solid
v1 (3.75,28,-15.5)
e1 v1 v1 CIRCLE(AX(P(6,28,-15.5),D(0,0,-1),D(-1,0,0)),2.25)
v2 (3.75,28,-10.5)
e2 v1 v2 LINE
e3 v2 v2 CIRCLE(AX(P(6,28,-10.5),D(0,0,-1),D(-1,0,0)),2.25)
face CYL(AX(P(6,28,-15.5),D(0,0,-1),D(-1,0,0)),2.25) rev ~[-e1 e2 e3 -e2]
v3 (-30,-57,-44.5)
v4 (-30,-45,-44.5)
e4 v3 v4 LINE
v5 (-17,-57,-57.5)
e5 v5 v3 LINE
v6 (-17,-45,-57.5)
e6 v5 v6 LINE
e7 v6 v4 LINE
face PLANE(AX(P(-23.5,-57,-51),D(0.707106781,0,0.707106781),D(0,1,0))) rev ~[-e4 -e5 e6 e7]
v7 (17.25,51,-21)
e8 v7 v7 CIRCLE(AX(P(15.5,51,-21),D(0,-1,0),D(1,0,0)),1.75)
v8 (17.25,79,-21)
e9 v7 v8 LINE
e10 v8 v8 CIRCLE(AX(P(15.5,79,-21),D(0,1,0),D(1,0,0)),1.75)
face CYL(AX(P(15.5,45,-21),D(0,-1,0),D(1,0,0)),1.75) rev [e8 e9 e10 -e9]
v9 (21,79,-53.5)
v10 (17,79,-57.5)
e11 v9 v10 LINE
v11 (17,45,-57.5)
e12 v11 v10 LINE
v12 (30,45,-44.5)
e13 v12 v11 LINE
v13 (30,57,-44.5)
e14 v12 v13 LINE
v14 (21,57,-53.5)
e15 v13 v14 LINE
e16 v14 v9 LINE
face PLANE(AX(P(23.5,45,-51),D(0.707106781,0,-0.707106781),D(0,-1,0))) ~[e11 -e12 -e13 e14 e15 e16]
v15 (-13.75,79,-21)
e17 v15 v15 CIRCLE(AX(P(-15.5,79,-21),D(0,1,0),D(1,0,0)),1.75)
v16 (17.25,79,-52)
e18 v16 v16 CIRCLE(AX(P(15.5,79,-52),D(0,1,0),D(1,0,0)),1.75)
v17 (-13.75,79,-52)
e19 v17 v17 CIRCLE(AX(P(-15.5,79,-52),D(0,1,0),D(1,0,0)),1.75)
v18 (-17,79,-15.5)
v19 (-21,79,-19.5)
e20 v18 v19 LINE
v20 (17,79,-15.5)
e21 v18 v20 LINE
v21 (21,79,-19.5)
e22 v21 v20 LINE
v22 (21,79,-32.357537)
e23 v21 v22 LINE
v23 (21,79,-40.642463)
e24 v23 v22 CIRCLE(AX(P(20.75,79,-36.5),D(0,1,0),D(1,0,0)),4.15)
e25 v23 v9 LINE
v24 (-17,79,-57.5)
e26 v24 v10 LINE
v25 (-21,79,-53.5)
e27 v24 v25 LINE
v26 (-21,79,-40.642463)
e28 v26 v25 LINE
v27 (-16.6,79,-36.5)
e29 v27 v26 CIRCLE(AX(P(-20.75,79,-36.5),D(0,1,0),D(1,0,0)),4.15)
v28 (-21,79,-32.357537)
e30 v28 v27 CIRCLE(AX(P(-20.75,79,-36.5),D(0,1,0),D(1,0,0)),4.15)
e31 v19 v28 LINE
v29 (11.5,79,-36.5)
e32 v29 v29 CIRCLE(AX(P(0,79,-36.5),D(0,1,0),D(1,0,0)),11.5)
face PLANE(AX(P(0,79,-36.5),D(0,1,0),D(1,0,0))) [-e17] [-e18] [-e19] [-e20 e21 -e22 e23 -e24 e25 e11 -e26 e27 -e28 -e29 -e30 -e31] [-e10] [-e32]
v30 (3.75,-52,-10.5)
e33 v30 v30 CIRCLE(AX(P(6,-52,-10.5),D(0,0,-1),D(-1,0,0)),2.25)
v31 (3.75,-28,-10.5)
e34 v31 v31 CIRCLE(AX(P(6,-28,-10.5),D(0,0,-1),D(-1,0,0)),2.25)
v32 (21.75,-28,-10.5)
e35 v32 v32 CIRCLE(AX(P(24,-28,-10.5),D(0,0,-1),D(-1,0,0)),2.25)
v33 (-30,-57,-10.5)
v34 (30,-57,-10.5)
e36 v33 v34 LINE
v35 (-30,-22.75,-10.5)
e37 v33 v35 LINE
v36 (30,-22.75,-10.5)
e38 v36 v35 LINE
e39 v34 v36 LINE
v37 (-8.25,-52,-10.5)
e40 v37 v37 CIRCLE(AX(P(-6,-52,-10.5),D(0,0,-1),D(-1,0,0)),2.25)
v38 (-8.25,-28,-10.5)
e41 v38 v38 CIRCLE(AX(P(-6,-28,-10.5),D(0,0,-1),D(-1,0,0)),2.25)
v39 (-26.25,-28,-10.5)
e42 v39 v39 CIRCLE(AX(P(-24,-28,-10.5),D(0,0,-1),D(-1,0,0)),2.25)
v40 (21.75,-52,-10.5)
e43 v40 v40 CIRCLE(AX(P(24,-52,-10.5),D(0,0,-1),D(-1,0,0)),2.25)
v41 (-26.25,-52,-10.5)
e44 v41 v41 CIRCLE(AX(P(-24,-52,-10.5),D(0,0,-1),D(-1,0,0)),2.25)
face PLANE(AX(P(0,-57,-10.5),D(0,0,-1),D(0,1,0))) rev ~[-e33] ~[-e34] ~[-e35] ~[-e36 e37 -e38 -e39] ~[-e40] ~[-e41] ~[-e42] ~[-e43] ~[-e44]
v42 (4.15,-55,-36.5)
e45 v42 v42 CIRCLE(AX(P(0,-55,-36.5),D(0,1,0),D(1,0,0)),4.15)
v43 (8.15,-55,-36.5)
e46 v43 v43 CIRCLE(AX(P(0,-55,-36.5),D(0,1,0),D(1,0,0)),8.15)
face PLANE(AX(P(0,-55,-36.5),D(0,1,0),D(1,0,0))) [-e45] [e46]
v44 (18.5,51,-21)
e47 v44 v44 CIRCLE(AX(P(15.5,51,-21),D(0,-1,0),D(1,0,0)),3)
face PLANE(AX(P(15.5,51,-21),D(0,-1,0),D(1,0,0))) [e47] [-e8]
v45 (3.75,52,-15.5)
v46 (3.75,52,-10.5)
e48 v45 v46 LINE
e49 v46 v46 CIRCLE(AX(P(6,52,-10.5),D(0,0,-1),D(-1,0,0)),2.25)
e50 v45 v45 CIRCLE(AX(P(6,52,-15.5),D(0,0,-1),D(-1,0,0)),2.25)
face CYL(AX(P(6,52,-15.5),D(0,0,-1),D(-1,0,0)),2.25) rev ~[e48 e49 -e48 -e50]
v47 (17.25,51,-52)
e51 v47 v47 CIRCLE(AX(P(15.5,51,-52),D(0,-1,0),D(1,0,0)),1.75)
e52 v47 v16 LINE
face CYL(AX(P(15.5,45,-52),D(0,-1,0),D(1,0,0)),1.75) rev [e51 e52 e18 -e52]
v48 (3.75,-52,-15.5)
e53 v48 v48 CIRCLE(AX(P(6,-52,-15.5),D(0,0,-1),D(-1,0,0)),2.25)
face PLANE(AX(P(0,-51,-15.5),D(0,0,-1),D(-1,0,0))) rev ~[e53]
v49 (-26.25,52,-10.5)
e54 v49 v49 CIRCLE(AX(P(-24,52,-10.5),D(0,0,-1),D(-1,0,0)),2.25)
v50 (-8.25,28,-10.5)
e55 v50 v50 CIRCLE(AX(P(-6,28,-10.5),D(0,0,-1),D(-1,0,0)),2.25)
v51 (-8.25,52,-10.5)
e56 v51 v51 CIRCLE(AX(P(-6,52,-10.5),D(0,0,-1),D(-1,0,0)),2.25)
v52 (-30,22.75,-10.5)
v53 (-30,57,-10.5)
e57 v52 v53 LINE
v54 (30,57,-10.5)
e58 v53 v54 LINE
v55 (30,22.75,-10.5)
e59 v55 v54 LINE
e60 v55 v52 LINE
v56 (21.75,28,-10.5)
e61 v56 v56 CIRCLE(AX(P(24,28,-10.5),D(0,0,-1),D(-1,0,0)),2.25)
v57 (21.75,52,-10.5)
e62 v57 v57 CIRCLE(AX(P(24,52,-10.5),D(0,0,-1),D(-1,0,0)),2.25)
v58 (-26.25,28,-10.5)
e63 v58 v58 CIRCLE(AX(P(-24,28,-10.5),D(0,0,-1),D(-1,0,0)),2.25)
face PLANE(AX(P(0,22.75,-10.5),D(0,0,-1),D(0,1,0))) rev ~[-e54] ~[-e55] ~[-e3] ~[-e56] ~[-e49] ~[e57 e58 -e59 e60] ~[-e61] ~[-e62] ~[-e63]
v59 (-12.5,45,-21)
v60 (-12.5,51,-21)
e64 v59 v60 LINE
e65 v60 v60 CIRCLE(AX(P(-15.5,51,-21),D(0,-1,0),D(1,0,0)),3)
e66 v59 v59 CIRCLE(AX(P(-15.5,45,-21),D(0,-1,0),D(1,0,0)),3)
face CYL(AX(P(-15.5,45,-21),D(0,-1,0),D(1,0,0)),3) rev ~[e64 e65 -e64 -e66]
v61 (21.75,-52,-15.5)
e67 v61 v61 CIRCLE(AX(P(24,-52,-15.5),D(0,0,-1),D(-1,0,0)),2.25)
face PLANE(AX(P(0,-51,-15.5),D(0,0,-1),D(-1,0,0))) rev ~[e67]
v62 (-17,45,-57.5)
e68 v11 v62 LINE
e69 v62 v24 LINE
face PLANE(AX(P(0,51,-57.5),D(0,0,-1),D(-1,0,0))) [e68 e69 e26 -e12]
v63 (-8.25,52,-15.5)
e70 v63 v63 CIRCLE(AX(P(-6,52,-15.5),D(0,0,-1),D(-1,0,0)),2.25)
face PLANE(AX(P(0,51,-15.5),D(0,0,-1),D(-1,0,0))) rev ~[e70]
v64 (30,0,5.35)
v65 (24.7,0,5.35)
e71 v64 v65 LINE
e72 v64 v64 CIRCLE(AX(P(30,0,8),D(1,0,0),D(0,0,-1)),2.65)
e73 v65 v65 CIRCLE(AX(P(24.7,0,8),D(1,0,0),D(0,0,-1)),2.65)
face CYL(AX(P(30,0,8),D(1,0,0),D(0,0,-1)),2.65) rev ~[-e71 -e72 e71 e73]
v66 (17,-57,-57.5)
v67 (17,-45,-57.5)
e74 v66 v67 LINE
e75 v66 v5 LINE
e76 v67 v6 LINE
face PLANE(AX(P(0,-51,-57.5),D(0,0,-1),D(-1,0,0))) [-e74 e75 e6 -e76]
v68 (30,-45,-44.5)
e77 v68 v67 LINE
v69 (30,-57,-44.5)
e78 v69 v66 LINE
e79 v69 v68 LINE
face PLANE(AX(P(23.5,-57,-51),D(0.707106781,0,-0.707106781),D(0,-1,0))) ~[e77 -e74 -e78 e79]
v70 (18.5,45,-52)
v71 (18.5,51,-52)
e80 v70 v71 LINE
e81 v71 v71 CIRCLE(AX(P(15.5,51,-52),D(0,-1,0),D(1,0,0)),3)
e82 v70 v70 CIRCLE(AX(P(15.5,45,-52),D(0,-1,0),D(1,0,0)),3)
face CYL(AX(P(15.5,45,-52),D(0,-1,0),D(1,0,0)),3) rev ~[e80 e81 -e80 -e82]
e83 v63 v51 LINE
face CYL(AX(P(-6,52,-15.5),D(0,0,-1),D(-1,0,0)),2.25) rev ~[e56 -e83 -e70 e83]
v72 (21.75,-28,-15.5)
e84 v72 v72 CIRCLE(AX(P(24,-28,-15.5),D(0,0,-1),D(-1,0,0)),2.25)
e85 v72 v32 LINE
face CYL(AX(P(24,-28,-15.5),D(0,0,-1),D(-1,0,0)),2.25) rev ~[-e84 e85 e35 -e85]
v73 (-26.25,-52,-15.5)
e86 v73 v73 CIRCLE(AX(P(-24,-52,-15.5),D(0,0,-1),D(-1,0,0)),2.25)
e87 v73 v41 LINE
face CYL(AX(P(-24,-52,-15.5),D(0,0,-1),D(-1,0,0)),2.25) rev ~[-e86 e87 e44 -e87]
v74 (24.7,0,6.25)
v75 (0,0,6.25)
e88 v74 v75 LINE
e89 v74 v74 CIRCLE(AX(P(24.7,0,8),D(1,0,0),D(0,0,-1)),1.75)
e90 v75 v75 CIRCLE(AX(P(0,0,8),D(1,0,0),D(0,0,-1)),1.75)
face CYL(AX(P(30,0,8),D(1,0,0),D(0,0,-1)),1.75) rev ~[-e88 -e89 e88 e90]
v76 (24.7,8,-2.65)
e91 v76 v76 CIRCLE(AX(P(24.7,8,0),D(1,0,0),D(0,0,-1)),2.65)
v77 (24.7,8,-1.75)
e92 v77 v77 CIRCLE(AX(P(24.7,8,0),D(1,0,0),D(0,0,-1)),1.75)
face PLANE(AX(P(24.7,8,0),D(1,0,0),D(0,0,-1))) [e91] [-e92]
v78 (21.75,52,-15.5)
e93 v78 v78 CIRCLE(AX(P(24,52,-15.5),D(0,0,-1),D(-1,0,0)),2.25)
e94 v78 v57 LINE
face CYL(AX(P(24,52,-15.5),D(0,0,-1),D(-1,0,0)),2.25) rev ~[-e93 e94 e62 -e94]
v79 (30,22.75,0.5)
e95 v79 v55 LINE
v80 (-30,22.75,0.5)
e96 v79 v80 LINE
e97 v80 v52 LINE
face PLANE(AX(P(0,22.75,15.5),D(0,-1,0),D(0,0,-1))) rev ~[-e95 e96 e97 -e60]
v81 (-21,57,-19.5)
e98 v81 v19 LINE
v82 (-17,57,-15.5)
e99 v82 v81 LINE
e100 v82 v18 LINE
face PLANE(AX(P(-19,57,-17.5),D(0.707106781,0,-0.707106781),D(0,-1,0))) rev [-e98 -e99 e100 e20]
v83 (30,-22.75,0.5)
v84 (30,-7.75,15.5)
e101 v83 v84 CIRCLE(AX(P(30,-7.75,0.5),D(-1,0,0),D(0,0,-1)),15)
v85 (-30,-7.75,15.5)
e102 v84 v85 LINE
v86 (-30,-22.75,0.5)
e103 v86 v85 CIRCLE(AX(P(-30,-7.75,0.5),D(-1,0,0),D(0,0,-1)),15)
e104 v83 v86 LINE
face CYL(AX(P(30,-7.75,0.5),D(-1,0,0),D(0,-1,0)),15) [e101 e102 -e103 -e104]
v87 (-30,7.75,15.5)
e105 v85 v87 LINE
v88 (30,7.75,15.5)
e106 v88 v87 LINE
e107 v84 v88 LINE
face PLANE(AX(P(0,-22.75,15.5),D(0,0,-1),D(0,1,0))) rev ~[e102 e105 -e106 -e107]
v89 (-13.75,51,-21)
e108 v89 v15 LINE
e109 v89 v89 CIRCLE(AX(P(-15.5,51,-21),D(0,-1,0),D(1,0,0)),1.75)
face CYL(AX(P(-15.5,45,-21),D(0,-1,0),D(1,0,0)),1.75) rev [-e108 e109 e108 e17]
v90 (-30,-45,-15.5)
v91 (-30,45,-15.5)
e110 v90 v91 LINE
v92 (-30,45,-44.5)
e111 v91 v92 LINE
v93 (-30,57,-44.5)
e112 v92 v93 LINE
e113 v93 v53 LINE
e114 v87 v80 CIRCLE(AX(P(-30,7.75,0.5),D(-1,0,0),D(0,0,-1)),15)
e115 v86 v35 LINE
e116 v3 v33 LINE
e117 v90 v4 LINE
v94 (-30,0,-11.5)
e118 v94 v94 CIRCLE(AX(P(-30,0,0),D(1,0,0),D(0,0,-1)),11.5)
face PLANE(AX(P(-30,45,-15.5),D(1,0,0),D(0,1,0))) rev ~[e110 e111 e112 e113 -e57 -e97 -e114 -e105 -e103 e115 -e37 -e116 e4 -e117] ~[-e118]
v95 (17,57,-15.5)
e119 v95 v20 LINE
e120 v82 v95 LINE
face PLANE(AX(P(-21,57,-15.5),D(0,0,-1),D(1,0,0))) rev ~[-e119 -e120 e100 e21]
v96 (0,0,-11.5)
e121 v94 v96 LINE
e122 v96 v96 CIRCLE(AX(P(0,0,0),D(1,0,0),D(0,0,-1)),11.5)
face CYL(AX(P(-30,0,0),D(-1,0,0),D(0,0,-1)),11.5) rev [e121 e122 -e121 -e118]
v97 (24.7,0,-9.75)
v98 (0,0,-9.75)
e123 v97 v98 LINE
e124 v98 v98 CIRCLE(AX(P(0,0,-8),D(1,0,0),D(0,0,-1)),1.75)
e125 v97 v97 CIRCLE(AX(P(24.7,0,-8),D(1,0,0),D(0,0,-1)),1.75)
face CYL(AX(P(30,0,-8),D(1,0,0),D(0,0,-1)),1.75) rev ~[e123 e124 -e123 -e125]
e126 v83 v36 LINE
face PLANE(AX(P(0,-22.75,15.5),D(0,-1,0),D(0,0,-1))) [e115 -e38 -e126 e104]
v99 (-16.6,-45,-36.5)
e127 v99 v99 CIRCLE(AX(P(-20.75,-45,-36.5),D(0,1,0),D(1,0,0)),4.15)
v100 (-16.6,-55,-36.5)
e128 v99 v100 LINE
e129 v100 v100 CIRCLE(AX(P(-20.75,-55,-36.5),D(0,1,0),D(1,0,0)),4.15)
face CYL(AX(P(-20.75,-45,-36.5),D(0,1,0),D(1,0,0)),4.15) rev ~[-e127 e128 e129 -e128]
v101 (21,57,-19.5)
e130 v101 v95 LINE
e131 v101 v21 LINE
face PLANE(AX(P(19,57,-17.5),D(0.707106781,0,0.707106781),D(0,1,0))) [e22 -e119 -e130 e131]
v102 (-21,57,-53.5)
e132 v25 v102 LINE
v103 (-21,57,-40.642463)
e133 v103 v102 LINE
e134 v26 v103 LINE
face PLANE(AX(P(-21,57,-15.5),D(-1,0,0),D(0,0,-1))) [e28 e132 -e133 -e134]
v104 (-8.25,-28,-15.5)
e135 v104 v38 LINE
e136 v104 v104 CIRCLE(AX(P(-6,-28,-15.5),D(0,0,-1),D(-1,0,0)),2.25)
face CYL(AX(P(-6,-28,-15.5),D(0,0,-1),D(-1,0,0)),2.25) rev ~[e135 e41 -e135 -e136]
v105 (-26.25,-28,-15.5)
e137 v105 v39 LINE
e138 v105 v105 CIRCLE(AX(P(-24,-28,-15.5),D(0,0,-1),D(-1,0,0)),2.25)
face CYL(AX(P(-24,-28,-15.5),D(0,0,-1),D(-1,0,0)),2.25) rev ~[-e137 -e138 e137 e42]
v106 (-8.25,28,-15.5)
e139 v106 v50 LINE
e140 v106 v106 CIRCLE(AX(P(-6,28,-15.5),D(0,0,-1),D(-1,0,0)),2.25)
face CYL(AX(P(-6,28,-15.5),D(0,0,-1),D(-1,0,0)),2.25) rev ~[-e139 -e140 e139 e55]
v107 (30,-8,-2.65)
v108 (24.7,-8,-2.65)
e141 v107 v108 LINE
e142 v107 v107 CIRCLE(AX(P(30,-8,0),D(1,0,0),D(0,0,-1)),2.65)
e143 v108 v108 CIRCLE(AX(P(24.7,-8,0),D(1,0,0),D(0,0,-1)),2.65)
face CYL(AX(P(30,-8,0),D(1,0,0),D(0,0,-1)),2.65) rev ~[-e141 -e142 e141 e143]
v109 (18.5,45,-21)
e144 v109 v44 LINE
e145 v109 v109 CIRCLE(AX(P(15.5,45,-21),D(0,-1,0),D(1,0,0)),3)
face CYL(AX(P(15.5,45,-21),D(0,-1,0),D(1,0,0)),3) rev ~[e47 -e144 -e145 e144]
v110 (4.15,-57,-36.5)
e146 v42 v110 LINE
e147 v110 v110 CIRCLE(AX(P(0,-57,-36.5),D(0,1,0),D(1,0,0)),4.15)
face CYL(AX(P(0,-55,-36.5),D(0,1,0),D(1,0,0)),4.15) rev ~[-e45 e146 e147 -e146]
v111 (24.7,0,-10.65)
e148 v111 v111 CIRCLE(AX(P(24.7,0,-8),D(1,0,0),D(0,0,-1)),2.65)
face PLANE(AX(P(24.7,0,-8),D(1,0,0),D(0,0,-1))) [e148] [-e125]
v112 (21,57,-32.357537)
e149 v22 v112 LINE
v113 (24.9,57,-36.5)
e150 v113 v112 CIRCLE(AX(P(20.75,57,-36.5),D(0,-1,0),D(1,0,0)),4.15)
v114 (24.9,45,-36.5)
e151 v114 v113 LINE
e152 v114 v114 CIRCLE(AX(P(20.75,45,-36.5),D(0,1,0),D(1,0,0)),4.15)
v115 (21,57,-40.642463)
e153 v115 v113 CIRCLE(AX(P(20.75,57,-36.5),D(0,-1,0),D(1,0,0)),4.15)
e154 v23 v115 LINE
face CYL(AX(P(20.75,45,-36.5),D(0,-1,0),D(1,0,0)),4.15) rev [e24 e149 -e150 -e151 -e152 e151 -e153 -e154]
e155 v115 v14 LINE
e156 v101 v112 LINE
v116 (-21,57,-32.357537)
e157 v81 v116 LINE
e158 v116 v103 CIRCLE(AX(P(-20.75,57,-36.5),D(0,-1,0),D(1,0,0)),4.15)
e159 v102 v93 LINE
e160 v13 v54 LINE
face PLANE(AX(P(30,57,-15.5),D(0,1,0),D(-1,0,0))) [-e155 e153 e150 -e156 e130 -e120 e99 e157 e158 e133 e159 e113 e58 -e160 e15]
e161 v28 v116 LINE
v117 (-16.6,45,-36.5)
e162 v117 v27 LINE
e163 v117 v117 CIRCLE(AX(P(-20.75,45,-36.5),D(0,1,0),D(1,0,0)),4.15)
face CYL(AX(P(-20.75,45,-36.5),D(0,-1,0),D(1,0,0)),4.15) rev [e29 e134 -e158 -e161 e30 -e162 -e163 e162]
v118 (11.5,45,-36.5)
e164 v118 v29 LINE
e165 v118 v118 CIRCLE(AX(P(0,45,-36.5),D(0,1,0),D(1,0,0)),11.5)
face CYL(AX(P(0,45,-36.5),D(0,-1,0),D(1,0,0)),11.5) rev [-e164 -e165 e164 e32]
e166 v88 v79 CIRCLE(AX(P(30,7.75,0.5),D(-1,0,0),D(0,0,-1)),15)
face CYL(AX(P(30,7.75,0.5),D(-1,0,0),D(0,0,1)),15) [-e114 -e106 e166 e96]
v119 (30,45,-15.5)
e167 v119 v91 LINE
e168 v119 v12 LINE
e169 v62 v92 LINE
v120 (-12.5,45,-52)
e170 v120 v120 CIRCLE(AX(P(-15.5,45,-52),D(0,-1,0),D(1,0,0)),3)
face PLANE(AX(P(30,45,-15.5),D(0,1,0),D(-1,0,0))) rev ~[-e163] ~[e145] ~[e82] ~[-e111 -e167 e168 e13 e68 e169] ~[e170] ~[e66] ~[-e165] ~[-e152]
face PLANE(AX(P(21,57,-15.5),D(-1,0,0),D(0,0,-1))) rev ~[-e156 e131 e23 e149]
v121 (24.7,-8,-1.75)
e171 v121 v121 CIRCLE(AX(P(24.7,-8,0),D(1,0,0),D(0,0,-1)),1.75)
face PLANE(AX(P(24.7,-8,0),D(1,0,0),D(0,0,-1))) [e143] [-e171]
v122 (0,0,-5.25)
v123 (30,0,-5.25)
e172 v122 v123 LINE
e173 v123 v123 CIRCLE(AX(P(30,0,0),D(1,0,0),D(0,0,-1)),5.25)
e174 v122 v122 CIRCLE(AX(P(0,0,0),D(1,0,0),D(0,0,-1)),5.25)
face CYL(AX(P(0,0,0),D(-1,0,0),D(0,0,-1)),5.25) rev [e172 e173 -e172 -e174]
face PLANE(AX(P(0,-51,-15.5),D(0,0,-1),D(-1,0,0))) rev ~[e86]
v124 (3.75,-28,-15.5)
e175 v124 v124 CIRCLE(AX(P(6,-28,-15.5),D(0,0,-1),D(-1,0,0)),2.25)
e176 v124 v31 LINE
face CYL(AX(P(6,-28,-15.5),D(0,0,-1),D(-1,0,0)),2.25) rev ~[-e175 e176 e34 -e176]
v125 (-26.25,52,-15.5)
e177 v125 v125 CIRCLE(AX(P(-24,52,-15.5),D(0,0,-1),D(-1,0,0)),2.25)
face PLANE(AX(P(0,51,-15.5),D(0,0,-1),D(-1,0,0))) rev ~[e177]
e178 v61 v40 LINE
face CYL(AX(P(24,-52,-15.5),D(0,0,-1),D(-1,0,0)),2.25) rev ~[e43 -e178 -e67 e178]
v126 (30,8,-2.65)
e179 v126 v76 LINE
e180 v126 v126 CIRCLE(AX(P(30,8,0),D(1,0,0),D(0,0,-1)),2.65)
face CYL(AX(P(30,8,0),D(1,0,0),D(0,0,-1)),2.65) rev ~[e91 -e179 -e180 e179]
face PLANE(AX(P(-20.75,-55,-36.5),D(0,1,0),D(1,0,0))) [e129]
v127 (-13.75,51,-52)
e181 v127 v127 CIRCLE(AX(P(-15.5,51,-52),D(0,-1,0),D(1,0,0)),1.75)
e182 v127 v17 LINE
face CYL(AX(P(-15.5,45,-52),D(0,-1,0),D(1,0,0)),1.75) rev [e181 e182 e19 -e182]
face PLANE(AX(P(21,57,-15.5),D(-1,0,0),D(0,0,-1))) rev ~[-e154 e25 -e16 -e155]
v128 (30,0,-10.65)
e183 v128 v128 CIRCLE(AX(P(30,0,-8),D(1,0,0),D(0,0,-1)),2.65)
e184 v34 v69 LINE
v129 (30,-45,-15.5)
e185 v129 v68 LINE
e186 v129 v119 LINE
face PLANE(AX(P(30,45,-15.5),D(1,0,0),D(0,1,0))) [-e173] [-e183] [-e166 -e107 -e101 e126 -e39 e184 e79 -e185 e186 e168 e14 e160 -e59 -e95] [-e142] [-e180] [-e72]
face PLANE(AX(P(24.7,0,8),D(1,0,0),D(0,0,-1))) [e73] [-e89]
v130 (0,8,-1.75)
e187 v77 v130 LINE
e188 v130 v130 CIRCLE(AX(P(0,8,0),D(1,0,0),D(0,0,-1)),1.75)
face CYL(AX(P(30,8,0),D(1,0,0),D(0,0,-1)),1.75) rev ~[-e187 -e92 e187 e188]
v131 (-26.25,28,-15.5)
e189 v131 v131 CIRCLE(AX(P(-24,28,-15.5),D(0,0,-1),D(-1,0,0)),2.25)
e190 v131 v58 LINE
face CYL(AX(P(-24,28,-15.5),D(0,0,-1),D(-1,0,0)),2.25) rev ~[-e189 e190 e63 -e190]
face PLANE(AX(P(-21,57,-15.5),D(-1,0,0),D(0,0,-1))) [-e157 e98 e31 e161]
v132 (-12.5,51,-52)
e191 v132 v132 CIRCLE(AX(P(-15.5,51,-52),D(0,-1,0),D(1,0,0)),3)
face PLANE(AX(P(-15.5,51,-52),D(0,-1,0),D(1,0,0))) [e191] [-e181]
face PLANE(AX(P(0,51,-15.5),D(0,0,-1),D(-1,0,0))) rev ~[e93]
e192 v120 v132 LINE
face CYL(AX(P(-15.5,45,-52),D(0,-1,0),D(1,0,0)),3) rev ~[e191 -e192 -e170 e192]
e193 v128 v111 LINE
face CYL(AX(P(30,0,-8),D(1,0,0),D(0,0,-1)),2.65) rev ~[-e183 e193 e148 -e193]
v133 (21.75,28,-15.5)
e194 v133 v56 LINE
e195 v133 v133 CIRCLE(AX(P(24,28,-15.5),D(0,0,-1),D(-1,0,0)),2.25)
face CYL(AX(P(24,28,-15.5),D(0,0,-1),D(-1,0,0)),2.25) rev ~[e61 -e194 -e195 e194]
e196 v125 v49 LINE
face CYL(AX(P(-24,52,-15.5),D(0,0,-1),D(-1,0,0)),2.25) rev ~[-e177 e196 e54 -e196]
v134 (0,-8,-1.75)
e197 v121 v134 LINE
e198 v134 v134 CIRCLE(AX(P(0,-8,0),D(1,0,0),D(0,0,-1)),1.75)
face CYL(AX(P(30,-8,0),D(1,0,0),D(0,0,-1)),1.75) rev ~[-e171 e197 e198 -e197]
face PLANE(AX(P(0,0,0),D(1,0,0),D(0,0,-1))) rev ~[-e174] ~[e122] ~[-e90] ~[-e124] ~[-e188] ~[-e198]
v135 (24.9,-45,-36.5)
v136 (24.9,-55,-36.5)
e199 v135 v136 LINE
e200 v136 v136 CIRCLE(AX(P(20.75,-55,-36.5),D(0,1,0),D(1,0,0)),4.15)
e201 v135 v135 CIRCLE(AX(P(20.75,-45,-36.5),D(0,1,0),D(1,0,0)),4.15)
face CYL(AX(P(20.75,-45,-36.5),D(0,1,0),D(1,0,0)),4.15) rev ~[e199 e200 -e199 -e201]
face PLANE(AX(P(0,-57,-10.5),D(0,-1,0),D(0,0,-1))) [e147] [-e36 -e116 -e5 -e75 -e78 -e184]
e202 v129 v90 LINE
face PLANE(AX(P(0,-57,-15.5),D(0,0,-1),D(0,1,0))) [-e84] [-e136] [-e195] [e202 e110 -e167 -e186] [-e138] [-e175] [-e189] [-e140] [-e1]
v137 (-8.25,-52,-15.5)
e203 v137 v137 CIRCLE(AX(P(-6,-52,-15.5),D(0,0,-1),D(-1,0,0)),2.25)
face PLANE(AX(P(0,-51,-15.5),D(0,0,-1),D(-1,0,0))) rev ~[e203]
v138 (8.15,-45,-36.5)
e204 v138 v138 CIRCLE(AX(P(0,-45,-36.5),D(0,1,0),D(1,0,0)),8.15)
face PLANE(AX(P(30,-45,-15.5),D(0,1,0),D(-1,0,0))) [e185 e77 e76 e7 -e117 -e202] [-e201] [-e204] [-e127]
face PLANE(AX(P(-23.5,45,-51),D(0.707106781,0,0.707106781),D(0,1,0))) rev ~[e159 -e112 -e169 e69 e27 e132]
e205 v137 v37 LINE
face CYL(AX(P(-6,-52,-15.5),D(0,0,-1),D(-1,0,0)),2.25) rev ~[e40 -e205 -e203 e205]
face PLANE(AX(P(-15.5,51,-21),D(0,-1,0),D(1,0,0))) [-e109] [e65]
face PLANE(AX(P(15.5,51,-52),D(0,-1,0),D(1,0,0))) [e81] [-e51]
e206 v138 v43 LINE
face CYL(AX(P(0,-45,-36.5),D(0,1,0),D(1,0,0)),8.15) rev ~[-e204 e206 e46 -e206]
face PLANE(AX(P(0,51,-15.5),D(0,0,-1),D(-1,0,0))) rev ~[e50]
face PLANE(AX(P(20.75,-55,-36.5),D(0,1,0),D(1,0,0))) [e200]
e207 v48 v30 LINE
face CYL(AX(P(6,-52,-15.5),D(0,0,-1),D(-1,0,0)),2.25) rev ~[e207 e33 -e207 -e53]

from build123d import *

# Parameters (mm, degrees)
BOSS_EXTRUDE1_DEPTH      = 30
BOSS_EXTRUDE1_DEPTH_BACK = 30
SKETCH2_R                = 5.25
SKETCH3_R                = 11.5
CUT_EXTRUDE2_DEPTH       = 30
CUT_EXTRUDE3_REACH       = 86.198
SKETCH5_R                = 1.75
FILLET1_R                = 15
CUT_EXTRUDE4_REACH       = 73.484
SKETCH6_R                = 2.25
SKETCH7_W                = 60
SKETCH7_H                = 12
BOSS_EXTRUDE2_DEPTH      = 42
SKETCH18_W               = 42
SKETCH18_H               = 42
BOSS_EXTRUDE5_DEPTH      = 22
CUT_EXTRUDE5_REACH       = 155.157
CUT_EXTRUDE5_START       = 22
SKETCH8_R                = 11.5
SKETCH8_R_2              = 1.75
SKETCH8_R_3              = 4.15
SKETCH9_R                = 4.15
SKETCH9_R_2              = 8.15
CUT_EXTRUDE6_DEPTH       = 10
CUT_EXTRUDE7_REACH       = 150.87
SKETCH10_R               = 4.15
SKETCH11_R               = 3
CUT_EXTRUDE8_DEPTH       = 6
SKETCH14_R               = 2.65
CUT_EXTRUDE10_DEPTH      = 5.3
CHAMFER3_SIZE            = 13
CHAMFER4_SIZE            = 4


with BuildPart() as part:
    # Sketch2 → Boss-Extrude1 (new, two sides: drawn at the far end of the back side and taken through both)
    with BuildSketch(Plane(origin=(0, 0, 0), x_dir=(0, 0, -1), z_dir=(1, 0, 0)).offset(-BOSS_EXTRUDE1_DEPTH_BACK)):
        Polygon((15.5, 57), (10.5, 57), (10.5, 22.75), (-15.5, 22.75), (-15.5, -22.75), (10.5, -22.75), (10.5, -57), (15.5, -57), align=None)
        Circle(SKETCH2_R, mode=Mode.SUBTRACT)
    extrude(amount=BOSS_EXTRUDE1_DEPTH + BOSS_EXTRUDE1_DEPTH_BACK)

    # Sketch3 → Cut-Extrude2 (cut)
    with BuildSketch(Plane(origin=(-30, 0, 0), x_dir=(0, 0, -1), z_dir=(1, 0, 0))):
        Circle(SKETCH3_R)
    extrude(amount=CUT_EXTRUDE2_DEPTH, mode=Mode.SUBTRACT)

    # Sketch5 → Cut-Extrude3 (cut, up to next)
    with BuildSketch(Plane(origin=(30, 0, 0), x_dir=(0, 0, -1), z_dir=(1, 0, 0)), mode=Mode.PRIVATE) as cut_extrude3_sk1:
        with Locations((0, 8)):
            Circle(SKETCH5_R)
    cut_extrude3_tool1 = extrude(cut_extrude3_sk1.sketch, amount=-CUT_EXTRUDE3_REACH, mode=Mode.PRIVATE) & part.part
    # Sketch5 → Cut-Extrude3 (cut, up to next)
    with BuildSketch(Plane(origin=(30, 0, 0), x_dir=(0, 0, -1), z_dir=(1, 0, 0)), mode=Mode.PRIVATE) as cut_extrude3_sk2:
        with Locations((8, 0)):
            Circle(SKETCH5_R)
    cut_extrude3_tool2 = extrude(cut_extrude3_sk2.sketch, amount=-CUT_EXTRUDE3_REACH, mode=Mode.PRIVATE) & part.part
    # Sketch5 → Cut-Extrude3 (cut, up to next)
    with BuildSketch(Plane(origin=(30, 0, 0), x_dir=(0, 0, -1), z_dir=(1, 0, 0)), mode=Mode.PRIVATE) as cut_extrude3_sk3:
        with Locations((0, -8)):
            Circle(SKETCH5_R)
    cut_extrude3_tool3 = extrude(cut_extrude3_sk3.sketch, amount=-CUT_EXTRUDE3_REACH, mode=Mode.PRIVATE) & part.part
    # Sketch5 → Cut-Extrude3 (cut, up to next)
    with BuildSketch(Plane(origin=(30, 0, 0), x_dir=(0, 0, -1), z_dir=(1, 0, 0)), mode=Mode.PRIVATE) as cut_extrude3_sk4:
        with Locations((-8, 0)):
            Circle(SKETCH5_R)
    cut_extrude3_tool4 = extrude(cut_extrude3_sk4.sketch, amount=-CUT_EXTRUDE3_REACH, mode=Mode.PRIVATE) & part.part
    add(cut_extrude3_tool1.solids().sort_by_distance((30, 8, 0))[0], mode=Mode.SUBTRACT)
    add(cut_extrude3_tool2.solids().sort_by_distance((30, 0, -8))[0], mode=Mode.SUBTRACT)
    add(cut_extrude3_tool3.solids().sort_by_distance((30, -8, 0))[0], mode=Mode.SUBTRACT)
    add(cut_extrude3_tool4.solids().sort_by_distance((30, 0, 8))[0], mode=Mode.SUBTRACT)

    # Fillet1
    fillet1_edges = [part.edges().sort_by_distance(p)[0] for p in [
        (0, -22.75, 15.5),
        (0, 22.75, 15.5),
    ]]
    fillet(fillet1_edges, radius=FILLET1_R)

    # Sketch6 → Cut-Extrude4 (cut, up to next)
    with BuildSketch(Plane(origin=(0, 0, -15.5), x_dir=(-1, 0, 0), z_dir=(0, 0, -1)), mode=Mode.PRIVATE) as cut_extrude4_sk1:
        with Locations((-24, 52)):
            Circle(SKETCH6_R)
    cut_extrude4_tool1 = extrude(cut_extrude4_sk1.sketch, amount=-CUT_EXTRUDE4_REACH, mode=Mode.PRIVATE) & part.part
    # Sketch6 → Cut-Extrude4 (cut, up to next)
    with BuildSketch(Plane(origin=(0, 0, -15.5), x_dir=(-1, 0, 0), z_dir=(0, 0, -1)), mode=Mode.PRIVATE) as cut_extrude4_sk2:
        with Locations((-6, 52)):
            Circle(SKETCH6_R)
    cut_extrude4_tool2 = extrude(cut_extrude4_sk2.sketch, amount=-CUT_EXTRUDE4_REACH, mode=Mode.PRIVATE) & part.part
    # Sketch6 → Cut-Extrude4 (cut, up to next)
    with BuildSketch(Plane(origin=(0, 0, -15.5), x_dir=(-1, 0, 0), z_dir=(0, 0, -1)), mode=Mode.PRIVATE) as cut_extrude4_sk3:
        with Locations((-24, 28)):
            Circle(SKETCH6_R)
    cut_extrude4_tool3 = extrude(cut_extrude4_sk3.sketch, amount=-CUT_EXTRUDE4_REACH, mode=Mode.PRIVATE) & part.part
    # Sketch6 → Cut-Extrude4 (cut, up to next)
    with BuildSketch(Plane(origin=(0, 0, -15.5), x_dir=(-1, 0, 0), z_dir=(0, 0, -1)), mode=Mode.PRIVATE) as cut_extrude4_sk4:
        with Locations((-6, 28)):
            Circle(SKETCH6_R)
    cut_extrude4_tool4 = extrude(cut_extrude4_sk4.sketch, amount=-CUT_EXTRUDE4_REACH, mode=Mode.PRIVATE) & part.part
    # Sketch6 → Cut-Extrude4 (cut, up to next)
    with BuildSketch(Plane(origin=(0, 0, -15.5), x_dir=(-1, 0, 0), z_dir=(0, 0, -1)), mode=Mode.PRIVATE) as cut_extrude4_sk5:
        with Locations((6, 28)):
            Circle(SKETCH6_R)
    cut_extrude4_tool5 = extrude(cut_extrude4_sk5.sketch, amount=-CUT_EXTRUDE4_REACH, mode=Mode.PRIVATE) & part.part
    # Sketch6 → Cut-Extrude4 (cut, up to next)
    with BuildSketch(Plane(origin=(0, 0, -15.5), x_dir=(-1, 0, 0), z_dir=(0, 0, -1)), mode=Mode.PRIVATE) as cut_extrude4_sk6:
        with Locations((24, 28)):
            Circle(SKETCH6_R)
    cut_extrude4_tool6 = extrude(cut_extrude4_sk6.sketch, amount=-CUT_EXTRUDE4_REACH, mode=Mode.PRIVATE) & part.part
    # Sketch6 → Cut-Extrude4 (cut, up to next)
    with BuildSketch(Plane(origin=(0, 0, -15.5), x_dir=(-1, 0, 0), z_dir=(0, 0, -1)), mode=Mode.PRIVATE) as cut_extrude4_sk7:
        with Locations((6, 52)):
            Circle(SKETCH6_R)
    cut_extrude4_tool7 = extrude(cut_extrude4_sk7.sketch, amount=-CUT_EXTRUDE4_REACH, mode=Mode.PRIVATE) & part.part
    # Sketch6 → Cut-Extrude4 (cut, up to next)
    with BuildSketch(Plane(origin=(0, 0, -15.5), x_dir=(-1, 0, 0), z_dir=(0, 0, -1)), mode=Mode.PRIVATE) as cut_extrude4_sk8:
        with Locations((24, 52)):
            Circle(SKETCH6_R)
    cut_extrude4_tool8 = extrude(cut_extrude4_sk8.sketch, amount=-CUT_EXTRUDE4_REACH, mode=Mode.PRIVATE) & part.part
    # Sketch6 → Cut-Extrude4 (cut, up to next)
    with BuildSketch(Plane(origin=(0, 0, -15.5), x_dir=(-1, 0, 0), z_dir=(0, 0, -1)), mode=Mode.PRIVATE) as cut_extrude4_sk9:
        with Locations((24, -52)):
            Circle(SKETCH6_R)
    cut_extrude4_tool9 = extrude(cut_extrude4_sk9.sketch, amount=-CUT_EXTRUDE4_REACH, mode=Mode.PRIVATE) & part.part
    # Sketch6 → Cut-Extrude4 (cut, up to next)
    with BuildSketch(Plane(origin=(0, 0, -15.5), x_dir=(-1, 0, 0), z_dir=(0, 0, -1)), mode=Mode.PRIVATE) as cut_extrude4_sk10:
        with Locations((6, -52)):
            Circle(SKETCH6_R)
    cut_extrude4_tool10 = extrude(cut_extrude4_sk10.sketch, amount=-CUT_EXTRUDE4_REACH, mode=Mode.PRIVATE) & part.part
    # Sketch6 → Cut-Extrude4 (cut, up to next)
    with BuildSketch(Plane(origin=(0, 0, -15.5), x_dir=(-1, 0, 0), z_dir=(0, 0, -1)), mode=Mode.PRIVATE) as cut_extrude4_sk11:
        with Locations((24, -28)):
            Circle(SKETCH6_R)
    cut_extrude4_tool11 = extrude(cut_extrude4_sk11.sketch, amount=-CUT_EXTRUDE4_REACH, mode=Mode.PRIVATE) & part.part
    # Sketch6 → Cut-Extrude4 (cut, up to next)
    with BuildSketch(Plane(origin=(0, 0, -15.5), x_dir=(-1, 0, 0), z_dir=(0, 0, -1)), mode=Mode.PRIVATE) as cut_extrude4_sk12:
        with Locations((6, -28)):
            Circle(SKETCH6_R)
    cut_extrude4_tool12 = extrude(cut_extrude4_sk12.sketch, amount=-CUT_EXTRUDE4_REACH, mode=Mode.PRIVATE) & part.part
    # Sketch6 → Cut-Extrude4 (cut, up to next)
    with BuildSketch(Plane(origin=(0, 0, -15.5), x_dir=(-1, 0, 0), z_dir=(0, 0, -1)), mode=Mode.PRIVATE) as cut_extrude4_sk13:
        with Locations((-6, -28)):
            Circle(SKETCH6_R)
    cut_extrude4_tool13 = extrude(cut_extrude4_sk13.sketch, amount=-CUT_EXTRUDE4_REACH, mode=Mode.PRIVATE) & part.part
    # Sketch6 → Cut-Extrude4 (cut, up to next)
    with BuildSketch(Plane(origin=(0, 0, -15.5), x_dir=(-1, 0, 0), z_dir=(0, 0, -1)), mode=Mode.PRIVATE) as cut_extrude4_sk14:
        with Locations((-24, -28)):
            Circle(SKETCH6_R)
    cut_extrude4_tool14 = extrude(cut_extrude4_sk14.sketch, amount=-CUT_EXTRUDE4_REACH, mode=Mode.PRIVATE) & part.part
    # Sketch6 → Cut-Extrude4 (cut, up to next)
    with BuildSketch(Plane(origin=(0, 0, -15.5), x_dir=(-1, 0, 0), z_dir=(0, 0, -1)), mode=Mode.PRIVATE) as cut_extrude4_sk15:
        with Locations((-6, -52)):
            Circle(SKETCH6_R)
    cut_extrude4_tool15 = extrude(cut_extrude4_sk15.sketch, amount=-CUT_EXTRUDE4_REACH, mode=Mode.PRIVATE) & part.part
    # Sketch6 → Cut-Extrude4 (cut, up to next)
    with BuildSketch(Plane(origin=(0, 0, -15.5), x_dir=(-1, 0, 0), z_dir=(0, 0, -1)), mode=Mode.PRIVATE) as cut_extrude4_sk16:
        with Locations((-24, -52)):
            Circle(SKETCH6_R)
    cut_extrude4_tool16 = extrude(cut_extrude4_sk16.sketch, amount=-CUT_EXTRUDE4_REACH, mode=Mode.PRIVATE) & part.part
    add(cut_extrude4_tool1.solids().sort_by_distance((24, 52, -15.5))[0], mode=Mode.SUBTRACT)
    add(cut_extrude4_tool2.solids().sort_by_distance((6, 52, -15.5))[0], mode=Mode.SUBTRACT)
    add(cut_extrude4_tool3.solids().sort_by_distance((24, 28, -15.5))[0], mode=Mode.SUBTRACT)
    add(cut_extrude4_tool4.solids().sort_by_distance((6, 28, -15.5))[0], mode=Mode.SUBTRACT)
    add(cut_extrude4_tool5.solids().sort_by_distance((-6, 28, -15.5))[0], mode=Mode.SUBTRACT)
    add(cut_extrude4_tool6.solids().sort_by_distance((-24, 28, -15.5))[0], mode=Mode.SUBTRACT)
    add(cut_extrude4_tool7.solids().sort_by_distance((-6, 52, -15.5))[0], mode=Mode.SUBTRACT)
    add(cut_extrude4_tool8.solids().sort_by_distance((-24, 52, -15.5))[0], mode=Mode.SUBTRACT)
    add(cut_extrude4_tool9.solids().sort_by_distance((-24, -52, -15.5))[0], mode=Mode.SUBTRACT)
    add(cut_extrude4_tool10.solids().sort_by_distance((-6, -52, -15.5))[0], mode=Mode.SUBTRACT)
    add(cut_extrude4_tool11.solids().sort_by_distance((-24, -28, -15.5))[0], mode=Mode.SUBTRACT)
    add(cut_extrude4_tool12.solids().sort_by_distance((-6, -28, -15.5))[0], mode=Mode.SUBTRACT)
    add(cut_extrude4_tool13.solids().sort_by_distance((6, -28, -15.5))[0], mode=Mode.SUBTRACT)
    add(cut_extrude4_tool14.solids().sort_by_distance((24, -28, -15.5))[0], mode=Mode.SUBTRACT)
    add(cut_extrude4_tool15.solids().sort_by_distance((6, -52, -15.5))[0], mode=Mode.SUBTRACT)
    add(cut_extrude4_tool16.solids().sort_by_distance((24, -52, -15.5))[0], mode=Mode.SUBTRACT)

    # Sketch7 → Boss-Extrude2 (add)
    with BuildSketch(Plane(origin=(0, 0, -15.5), x_dir=(-1, 0, 0), z_dir=(0, 0, -1))):
        with Locations((0, 51)):
            Rectangle(SKETCH7_W, SKETCH7_H)
        with Locations((0, -51)):
            Rectangle(SKETCH7_W, SKETCH7_H)
    extrude(amount=BOSS_EXTRUDE2_DEPTH)

    # Sketch18 → Boss-Extrude5 (add)
    with BuildSketch(Plane(origin=(0, 57, 0), x_dir=(1, 0, 0), z_dir=(0, 1, 0))):
        with Locations((0, 36.5)):
            Rectangle(SKETCH18_W, SKETCH18_H)
    extrude(amount=BOSS_EXTRUDE5_DEPTH)

    # Sketch8 → Cut-Extrude5 (cut, up to next)
    with BuildSketch(Plane(origin=(0, 57, 0), x_dir=(1, 0, 0), z_dir=(0, 1, 0)).offset(CUT_EXTRUDE5_START), mode=Mode.PRIVATE) as cut_extrude5_sk1:
        with Locations((0, 36.5)):
            Circle(SKETCH8_R)
    cut_extrude5_tool1 = extrude(cut_extrude5_sk1.sketch, amount=-CUT_EXTRUDE5_REACH, mode=Mode.PRIVATE) & part.part
    # Sketch8 → Cut-Extrude5 (cut, up to next)
    with BuildSketch(Plane(origin=(0, 57, 0), x_dir=(1, 0, 0), z_dir=(0, 1, 0)).offset(CUT_EXTRUDE5_START), mode=Mode.PRIVATE) as cut_extrude5_sk2:
        with Locations((-15.5, 52)):
            Circle(SKETCH8_R_2)
    cut_extrude5_tool2 = extrude(cut_extrude5_sk2.sketch, amount=-CUT_EXTRUDE5_REACH, mode=Mode.PRIVATE) & part.part
    # Sketch8 → Cut-Extrude5 (cut, up to next)
    with BuildSketch(Plane(origin=(0, 57, 0), x_dir=(1, 0, 0), z_dir=(0, 1, 0)).offset(CUT_EXTRUDE5_START), mode=Mode.PRIVATE) as cut_extrude5_sk3:
        with Locations((15.5, 52)):
            Circle(SKETCH8_R_2)
    cut_extrude5_tool3 = extrude(cut_extrude5_sk3.sketch, amount=-CUT_EXTRUDE5_REACH, mode=Mode.PRIVATE) & part.part
    # Sketch8 → Cut-Extrude5 (cut, up to next)
    with BuildSketch(Plane(origin=(0, 57, 0), x_dir=(1, 0, 0), z_dir=(0, 1, 0)).offset(CUT_EXTRUDE5_START), mode=Mode.PRIVATE) as cut_extrude5_sk4:
        with Locations((15.5, 21)):
            Circle(SKETCH8_R_2)
    cut_extrude5_tool4 = extrude(cut_extrude5_sk4.sketch, amount=-CUT_EXTRUDE5_REACH, mode=Mode.PRIVATE) & part.part
    # Sketch8 → Cut-Extrude5 (cut, up to next)
    with BuildSketch(Plane(origin=(0, 57, 0), x_dir=(1, 0, 0), z_dir=(0, 1, 0)).offset(CUT_EXTRUDE5_START), mode=Mode.PRIVATE) as cut_extrude5_sk5:
        with Locations((-15.5, 21)):
            Circle(SKETCH8_R_2)
    cut_extrude5_tool5 = extrude(cut_extrude5_sk5.sketch, amount=-CUT_EXTRUDE5_REACH, mode=Mode.PRIVATE) & part.part
    # Sketch8 → Cut-Extrude5 (cut, up to next)
    with BuildSketch(Plane(origin=(0, 57, 0), x_dir=(1, 0, 0), z_dir=(0, 1, 0)).offset(CUT_EXTRUDE5_START), mode=Mode.PRIVATE) as cut_extrude5_sk6:
        with Locations((-20.75, 36.5)):
            Circle(SKETCH8_R_3)
    cut_extrude5_tool6 = extrude(cut_extrude5_sk6.sketch, amount=-CUT_EXTRUDE5_REACH, mode=Mode.PRIVATE) & part.part
    # Sketch8 → Cut-Extrude5 (cut, up to next)
    with BuildSketch(Plane(origin=(0, 57, 0), x_dir=(1, 0, 0), z_dir=(0, 1, 0)).offset(CUT_EXTRUDE5_START), mode=Mode.PRIVATE) as cut_extrude5_sk7:
        with Locations((20.75, 36.5)):
            Circle(SKETCH8_R_3)
    cut_extrude5_tool7 = extrude(cut_extrude5_sk7.sketch, amount=-CUT_EXTRUDE5_REACH, mode=Mode.PRIVATE) & part.part
    add(cut_extrude5_tool1.solids().sort_by_distance((0, 79, -36.5))[0], mode=Mode.SUBTRACT)
    add(cut_extrude5_tool2.solids().sort_by_distance((-15.5, 79, -52))[0], mode=Mode.SUBTRACT)
    add(cut_extrude5_tool3.solids().sort_by_distance((15.5, 79, -52))[0], mode=Mode.SUBTRACT)
    add(cut_extrude5_tool4.solids().sort_by_distance((15.5, 79, -21))[0], mode=Mode.SUBTRACT)
    add(cut_extrude5_tool5.solids().sort_by_distance((-15.5, 79, -21))[0], mode=Mode.SUBTRACT)
    add(cut_extrude5_tool6.solids().sort_by_distance((-20.75, 79, -36.5))[0], mode=Mode.SUBTRACT)
    add(cut_extrude5_tool7.solids().sort_by_distance((20.75, 79, -36.5))[0], mode=Mode.SUBTRACT)

    # Sketch9 → Cut-Extrude6 (cut)
    with BuildSketch(Plane(origin=(0, -45, 0), x_dir=(1, 0, 0), z_dir=(0, 1, 0))):
        with Locations((-20.75, 36.5)):
            Circle(SKETCH9_R)
        with Locations((20.75, 36.5)):
            Circle(SKETCH9_R)
        with Locations((0, 36.5)):
            Circle(SKETCH9_R_2)
    extrude(amount=-CUT_EXTRUDE6_DEPTH, mode=Mode.SUBTRACT)

    # Sketch10 → Cut-Extrude7 (cut, up to next)
    with BuildSketch(Plane(origin=(0, -55, 0), x_dir=(1, 0, 0), z_dir=(0, 1, 0)), mode=Mode.PRIVATE) as cut_extrude7_sk1:
        with Locations((0, 36.5)):
            Circle(SKETCH10_R)
    cut_extrude7_tool1 = extrude(cut_extrude7_sk1.sketch, amount=-CUT_EXTRUDE7_REACH, mode=Mode.PRIVATE) & part.part
    add(cut_extrude7_tool1.solids().sort_by_distance((0, -55, -36.5))[0], mode=Mode.SUBTRACT)

    # Sketch11 → Cut-Extrude8 (cut)
    with BuildSketch(Plane.XZ.offset(-45)):
        with Locations((15.5, -52)):
            Circle(SKETCH11_R)
        with Locations((-15.5, -52)):
            Circle(SKETCH11_R)
        with Locations((-15.5, -21)):
            Circle(SKETCH11_R)
        with Locations((15.5, -21)):
            Circle(SKETCH11_R)
    extrude(amount=-CUT_EXTRUDE8_DEPTH, mode=Mode.SUBTRACT)

    # Sketch14 → Cut-Extrude10 (cut)
    with BuildSketch(Plane(origin=(30, 0, 0), x_dir=(0, 0, -1), z_dir=(1, 0, 0))):
        with Locations((0, 8)):
            Circle(SKETCH14_R)
        with Locations((8, 0)):
            Circle(SKETCH14_R)
        with Locations((0, -8)):
            Circle(SKETCH14_R)
        with Locations((-8, 0)):
            Circle(SKETCH14_R)
    extrude(amount=-CUT_EXTRUDE10_DEPTH, mode=Mode.SUBTRACT)

    # Chamfer3
    chamfer3_edges = [part.edges().sort_by_distance(p)[0] for p in [
        (30, 51, -57.5),
        (-30, 51, -57.5),
        (-30, -51, -57.5),
        (30, -51, -57.5),
    ]]
    chamfer(chamfer3_edges, length=CHAMFER3_SIZE)

    # Chamfer4
    chamfer4_edges = [part.edges().sort_by_distance(p)[0] for p in [
        (21, 68, -15.5),
        (-21, 68, -15.5),
    ]]
    chamfer(chamfer4_edges, length=CHAMFER4_SIZE)


solid = part.part
